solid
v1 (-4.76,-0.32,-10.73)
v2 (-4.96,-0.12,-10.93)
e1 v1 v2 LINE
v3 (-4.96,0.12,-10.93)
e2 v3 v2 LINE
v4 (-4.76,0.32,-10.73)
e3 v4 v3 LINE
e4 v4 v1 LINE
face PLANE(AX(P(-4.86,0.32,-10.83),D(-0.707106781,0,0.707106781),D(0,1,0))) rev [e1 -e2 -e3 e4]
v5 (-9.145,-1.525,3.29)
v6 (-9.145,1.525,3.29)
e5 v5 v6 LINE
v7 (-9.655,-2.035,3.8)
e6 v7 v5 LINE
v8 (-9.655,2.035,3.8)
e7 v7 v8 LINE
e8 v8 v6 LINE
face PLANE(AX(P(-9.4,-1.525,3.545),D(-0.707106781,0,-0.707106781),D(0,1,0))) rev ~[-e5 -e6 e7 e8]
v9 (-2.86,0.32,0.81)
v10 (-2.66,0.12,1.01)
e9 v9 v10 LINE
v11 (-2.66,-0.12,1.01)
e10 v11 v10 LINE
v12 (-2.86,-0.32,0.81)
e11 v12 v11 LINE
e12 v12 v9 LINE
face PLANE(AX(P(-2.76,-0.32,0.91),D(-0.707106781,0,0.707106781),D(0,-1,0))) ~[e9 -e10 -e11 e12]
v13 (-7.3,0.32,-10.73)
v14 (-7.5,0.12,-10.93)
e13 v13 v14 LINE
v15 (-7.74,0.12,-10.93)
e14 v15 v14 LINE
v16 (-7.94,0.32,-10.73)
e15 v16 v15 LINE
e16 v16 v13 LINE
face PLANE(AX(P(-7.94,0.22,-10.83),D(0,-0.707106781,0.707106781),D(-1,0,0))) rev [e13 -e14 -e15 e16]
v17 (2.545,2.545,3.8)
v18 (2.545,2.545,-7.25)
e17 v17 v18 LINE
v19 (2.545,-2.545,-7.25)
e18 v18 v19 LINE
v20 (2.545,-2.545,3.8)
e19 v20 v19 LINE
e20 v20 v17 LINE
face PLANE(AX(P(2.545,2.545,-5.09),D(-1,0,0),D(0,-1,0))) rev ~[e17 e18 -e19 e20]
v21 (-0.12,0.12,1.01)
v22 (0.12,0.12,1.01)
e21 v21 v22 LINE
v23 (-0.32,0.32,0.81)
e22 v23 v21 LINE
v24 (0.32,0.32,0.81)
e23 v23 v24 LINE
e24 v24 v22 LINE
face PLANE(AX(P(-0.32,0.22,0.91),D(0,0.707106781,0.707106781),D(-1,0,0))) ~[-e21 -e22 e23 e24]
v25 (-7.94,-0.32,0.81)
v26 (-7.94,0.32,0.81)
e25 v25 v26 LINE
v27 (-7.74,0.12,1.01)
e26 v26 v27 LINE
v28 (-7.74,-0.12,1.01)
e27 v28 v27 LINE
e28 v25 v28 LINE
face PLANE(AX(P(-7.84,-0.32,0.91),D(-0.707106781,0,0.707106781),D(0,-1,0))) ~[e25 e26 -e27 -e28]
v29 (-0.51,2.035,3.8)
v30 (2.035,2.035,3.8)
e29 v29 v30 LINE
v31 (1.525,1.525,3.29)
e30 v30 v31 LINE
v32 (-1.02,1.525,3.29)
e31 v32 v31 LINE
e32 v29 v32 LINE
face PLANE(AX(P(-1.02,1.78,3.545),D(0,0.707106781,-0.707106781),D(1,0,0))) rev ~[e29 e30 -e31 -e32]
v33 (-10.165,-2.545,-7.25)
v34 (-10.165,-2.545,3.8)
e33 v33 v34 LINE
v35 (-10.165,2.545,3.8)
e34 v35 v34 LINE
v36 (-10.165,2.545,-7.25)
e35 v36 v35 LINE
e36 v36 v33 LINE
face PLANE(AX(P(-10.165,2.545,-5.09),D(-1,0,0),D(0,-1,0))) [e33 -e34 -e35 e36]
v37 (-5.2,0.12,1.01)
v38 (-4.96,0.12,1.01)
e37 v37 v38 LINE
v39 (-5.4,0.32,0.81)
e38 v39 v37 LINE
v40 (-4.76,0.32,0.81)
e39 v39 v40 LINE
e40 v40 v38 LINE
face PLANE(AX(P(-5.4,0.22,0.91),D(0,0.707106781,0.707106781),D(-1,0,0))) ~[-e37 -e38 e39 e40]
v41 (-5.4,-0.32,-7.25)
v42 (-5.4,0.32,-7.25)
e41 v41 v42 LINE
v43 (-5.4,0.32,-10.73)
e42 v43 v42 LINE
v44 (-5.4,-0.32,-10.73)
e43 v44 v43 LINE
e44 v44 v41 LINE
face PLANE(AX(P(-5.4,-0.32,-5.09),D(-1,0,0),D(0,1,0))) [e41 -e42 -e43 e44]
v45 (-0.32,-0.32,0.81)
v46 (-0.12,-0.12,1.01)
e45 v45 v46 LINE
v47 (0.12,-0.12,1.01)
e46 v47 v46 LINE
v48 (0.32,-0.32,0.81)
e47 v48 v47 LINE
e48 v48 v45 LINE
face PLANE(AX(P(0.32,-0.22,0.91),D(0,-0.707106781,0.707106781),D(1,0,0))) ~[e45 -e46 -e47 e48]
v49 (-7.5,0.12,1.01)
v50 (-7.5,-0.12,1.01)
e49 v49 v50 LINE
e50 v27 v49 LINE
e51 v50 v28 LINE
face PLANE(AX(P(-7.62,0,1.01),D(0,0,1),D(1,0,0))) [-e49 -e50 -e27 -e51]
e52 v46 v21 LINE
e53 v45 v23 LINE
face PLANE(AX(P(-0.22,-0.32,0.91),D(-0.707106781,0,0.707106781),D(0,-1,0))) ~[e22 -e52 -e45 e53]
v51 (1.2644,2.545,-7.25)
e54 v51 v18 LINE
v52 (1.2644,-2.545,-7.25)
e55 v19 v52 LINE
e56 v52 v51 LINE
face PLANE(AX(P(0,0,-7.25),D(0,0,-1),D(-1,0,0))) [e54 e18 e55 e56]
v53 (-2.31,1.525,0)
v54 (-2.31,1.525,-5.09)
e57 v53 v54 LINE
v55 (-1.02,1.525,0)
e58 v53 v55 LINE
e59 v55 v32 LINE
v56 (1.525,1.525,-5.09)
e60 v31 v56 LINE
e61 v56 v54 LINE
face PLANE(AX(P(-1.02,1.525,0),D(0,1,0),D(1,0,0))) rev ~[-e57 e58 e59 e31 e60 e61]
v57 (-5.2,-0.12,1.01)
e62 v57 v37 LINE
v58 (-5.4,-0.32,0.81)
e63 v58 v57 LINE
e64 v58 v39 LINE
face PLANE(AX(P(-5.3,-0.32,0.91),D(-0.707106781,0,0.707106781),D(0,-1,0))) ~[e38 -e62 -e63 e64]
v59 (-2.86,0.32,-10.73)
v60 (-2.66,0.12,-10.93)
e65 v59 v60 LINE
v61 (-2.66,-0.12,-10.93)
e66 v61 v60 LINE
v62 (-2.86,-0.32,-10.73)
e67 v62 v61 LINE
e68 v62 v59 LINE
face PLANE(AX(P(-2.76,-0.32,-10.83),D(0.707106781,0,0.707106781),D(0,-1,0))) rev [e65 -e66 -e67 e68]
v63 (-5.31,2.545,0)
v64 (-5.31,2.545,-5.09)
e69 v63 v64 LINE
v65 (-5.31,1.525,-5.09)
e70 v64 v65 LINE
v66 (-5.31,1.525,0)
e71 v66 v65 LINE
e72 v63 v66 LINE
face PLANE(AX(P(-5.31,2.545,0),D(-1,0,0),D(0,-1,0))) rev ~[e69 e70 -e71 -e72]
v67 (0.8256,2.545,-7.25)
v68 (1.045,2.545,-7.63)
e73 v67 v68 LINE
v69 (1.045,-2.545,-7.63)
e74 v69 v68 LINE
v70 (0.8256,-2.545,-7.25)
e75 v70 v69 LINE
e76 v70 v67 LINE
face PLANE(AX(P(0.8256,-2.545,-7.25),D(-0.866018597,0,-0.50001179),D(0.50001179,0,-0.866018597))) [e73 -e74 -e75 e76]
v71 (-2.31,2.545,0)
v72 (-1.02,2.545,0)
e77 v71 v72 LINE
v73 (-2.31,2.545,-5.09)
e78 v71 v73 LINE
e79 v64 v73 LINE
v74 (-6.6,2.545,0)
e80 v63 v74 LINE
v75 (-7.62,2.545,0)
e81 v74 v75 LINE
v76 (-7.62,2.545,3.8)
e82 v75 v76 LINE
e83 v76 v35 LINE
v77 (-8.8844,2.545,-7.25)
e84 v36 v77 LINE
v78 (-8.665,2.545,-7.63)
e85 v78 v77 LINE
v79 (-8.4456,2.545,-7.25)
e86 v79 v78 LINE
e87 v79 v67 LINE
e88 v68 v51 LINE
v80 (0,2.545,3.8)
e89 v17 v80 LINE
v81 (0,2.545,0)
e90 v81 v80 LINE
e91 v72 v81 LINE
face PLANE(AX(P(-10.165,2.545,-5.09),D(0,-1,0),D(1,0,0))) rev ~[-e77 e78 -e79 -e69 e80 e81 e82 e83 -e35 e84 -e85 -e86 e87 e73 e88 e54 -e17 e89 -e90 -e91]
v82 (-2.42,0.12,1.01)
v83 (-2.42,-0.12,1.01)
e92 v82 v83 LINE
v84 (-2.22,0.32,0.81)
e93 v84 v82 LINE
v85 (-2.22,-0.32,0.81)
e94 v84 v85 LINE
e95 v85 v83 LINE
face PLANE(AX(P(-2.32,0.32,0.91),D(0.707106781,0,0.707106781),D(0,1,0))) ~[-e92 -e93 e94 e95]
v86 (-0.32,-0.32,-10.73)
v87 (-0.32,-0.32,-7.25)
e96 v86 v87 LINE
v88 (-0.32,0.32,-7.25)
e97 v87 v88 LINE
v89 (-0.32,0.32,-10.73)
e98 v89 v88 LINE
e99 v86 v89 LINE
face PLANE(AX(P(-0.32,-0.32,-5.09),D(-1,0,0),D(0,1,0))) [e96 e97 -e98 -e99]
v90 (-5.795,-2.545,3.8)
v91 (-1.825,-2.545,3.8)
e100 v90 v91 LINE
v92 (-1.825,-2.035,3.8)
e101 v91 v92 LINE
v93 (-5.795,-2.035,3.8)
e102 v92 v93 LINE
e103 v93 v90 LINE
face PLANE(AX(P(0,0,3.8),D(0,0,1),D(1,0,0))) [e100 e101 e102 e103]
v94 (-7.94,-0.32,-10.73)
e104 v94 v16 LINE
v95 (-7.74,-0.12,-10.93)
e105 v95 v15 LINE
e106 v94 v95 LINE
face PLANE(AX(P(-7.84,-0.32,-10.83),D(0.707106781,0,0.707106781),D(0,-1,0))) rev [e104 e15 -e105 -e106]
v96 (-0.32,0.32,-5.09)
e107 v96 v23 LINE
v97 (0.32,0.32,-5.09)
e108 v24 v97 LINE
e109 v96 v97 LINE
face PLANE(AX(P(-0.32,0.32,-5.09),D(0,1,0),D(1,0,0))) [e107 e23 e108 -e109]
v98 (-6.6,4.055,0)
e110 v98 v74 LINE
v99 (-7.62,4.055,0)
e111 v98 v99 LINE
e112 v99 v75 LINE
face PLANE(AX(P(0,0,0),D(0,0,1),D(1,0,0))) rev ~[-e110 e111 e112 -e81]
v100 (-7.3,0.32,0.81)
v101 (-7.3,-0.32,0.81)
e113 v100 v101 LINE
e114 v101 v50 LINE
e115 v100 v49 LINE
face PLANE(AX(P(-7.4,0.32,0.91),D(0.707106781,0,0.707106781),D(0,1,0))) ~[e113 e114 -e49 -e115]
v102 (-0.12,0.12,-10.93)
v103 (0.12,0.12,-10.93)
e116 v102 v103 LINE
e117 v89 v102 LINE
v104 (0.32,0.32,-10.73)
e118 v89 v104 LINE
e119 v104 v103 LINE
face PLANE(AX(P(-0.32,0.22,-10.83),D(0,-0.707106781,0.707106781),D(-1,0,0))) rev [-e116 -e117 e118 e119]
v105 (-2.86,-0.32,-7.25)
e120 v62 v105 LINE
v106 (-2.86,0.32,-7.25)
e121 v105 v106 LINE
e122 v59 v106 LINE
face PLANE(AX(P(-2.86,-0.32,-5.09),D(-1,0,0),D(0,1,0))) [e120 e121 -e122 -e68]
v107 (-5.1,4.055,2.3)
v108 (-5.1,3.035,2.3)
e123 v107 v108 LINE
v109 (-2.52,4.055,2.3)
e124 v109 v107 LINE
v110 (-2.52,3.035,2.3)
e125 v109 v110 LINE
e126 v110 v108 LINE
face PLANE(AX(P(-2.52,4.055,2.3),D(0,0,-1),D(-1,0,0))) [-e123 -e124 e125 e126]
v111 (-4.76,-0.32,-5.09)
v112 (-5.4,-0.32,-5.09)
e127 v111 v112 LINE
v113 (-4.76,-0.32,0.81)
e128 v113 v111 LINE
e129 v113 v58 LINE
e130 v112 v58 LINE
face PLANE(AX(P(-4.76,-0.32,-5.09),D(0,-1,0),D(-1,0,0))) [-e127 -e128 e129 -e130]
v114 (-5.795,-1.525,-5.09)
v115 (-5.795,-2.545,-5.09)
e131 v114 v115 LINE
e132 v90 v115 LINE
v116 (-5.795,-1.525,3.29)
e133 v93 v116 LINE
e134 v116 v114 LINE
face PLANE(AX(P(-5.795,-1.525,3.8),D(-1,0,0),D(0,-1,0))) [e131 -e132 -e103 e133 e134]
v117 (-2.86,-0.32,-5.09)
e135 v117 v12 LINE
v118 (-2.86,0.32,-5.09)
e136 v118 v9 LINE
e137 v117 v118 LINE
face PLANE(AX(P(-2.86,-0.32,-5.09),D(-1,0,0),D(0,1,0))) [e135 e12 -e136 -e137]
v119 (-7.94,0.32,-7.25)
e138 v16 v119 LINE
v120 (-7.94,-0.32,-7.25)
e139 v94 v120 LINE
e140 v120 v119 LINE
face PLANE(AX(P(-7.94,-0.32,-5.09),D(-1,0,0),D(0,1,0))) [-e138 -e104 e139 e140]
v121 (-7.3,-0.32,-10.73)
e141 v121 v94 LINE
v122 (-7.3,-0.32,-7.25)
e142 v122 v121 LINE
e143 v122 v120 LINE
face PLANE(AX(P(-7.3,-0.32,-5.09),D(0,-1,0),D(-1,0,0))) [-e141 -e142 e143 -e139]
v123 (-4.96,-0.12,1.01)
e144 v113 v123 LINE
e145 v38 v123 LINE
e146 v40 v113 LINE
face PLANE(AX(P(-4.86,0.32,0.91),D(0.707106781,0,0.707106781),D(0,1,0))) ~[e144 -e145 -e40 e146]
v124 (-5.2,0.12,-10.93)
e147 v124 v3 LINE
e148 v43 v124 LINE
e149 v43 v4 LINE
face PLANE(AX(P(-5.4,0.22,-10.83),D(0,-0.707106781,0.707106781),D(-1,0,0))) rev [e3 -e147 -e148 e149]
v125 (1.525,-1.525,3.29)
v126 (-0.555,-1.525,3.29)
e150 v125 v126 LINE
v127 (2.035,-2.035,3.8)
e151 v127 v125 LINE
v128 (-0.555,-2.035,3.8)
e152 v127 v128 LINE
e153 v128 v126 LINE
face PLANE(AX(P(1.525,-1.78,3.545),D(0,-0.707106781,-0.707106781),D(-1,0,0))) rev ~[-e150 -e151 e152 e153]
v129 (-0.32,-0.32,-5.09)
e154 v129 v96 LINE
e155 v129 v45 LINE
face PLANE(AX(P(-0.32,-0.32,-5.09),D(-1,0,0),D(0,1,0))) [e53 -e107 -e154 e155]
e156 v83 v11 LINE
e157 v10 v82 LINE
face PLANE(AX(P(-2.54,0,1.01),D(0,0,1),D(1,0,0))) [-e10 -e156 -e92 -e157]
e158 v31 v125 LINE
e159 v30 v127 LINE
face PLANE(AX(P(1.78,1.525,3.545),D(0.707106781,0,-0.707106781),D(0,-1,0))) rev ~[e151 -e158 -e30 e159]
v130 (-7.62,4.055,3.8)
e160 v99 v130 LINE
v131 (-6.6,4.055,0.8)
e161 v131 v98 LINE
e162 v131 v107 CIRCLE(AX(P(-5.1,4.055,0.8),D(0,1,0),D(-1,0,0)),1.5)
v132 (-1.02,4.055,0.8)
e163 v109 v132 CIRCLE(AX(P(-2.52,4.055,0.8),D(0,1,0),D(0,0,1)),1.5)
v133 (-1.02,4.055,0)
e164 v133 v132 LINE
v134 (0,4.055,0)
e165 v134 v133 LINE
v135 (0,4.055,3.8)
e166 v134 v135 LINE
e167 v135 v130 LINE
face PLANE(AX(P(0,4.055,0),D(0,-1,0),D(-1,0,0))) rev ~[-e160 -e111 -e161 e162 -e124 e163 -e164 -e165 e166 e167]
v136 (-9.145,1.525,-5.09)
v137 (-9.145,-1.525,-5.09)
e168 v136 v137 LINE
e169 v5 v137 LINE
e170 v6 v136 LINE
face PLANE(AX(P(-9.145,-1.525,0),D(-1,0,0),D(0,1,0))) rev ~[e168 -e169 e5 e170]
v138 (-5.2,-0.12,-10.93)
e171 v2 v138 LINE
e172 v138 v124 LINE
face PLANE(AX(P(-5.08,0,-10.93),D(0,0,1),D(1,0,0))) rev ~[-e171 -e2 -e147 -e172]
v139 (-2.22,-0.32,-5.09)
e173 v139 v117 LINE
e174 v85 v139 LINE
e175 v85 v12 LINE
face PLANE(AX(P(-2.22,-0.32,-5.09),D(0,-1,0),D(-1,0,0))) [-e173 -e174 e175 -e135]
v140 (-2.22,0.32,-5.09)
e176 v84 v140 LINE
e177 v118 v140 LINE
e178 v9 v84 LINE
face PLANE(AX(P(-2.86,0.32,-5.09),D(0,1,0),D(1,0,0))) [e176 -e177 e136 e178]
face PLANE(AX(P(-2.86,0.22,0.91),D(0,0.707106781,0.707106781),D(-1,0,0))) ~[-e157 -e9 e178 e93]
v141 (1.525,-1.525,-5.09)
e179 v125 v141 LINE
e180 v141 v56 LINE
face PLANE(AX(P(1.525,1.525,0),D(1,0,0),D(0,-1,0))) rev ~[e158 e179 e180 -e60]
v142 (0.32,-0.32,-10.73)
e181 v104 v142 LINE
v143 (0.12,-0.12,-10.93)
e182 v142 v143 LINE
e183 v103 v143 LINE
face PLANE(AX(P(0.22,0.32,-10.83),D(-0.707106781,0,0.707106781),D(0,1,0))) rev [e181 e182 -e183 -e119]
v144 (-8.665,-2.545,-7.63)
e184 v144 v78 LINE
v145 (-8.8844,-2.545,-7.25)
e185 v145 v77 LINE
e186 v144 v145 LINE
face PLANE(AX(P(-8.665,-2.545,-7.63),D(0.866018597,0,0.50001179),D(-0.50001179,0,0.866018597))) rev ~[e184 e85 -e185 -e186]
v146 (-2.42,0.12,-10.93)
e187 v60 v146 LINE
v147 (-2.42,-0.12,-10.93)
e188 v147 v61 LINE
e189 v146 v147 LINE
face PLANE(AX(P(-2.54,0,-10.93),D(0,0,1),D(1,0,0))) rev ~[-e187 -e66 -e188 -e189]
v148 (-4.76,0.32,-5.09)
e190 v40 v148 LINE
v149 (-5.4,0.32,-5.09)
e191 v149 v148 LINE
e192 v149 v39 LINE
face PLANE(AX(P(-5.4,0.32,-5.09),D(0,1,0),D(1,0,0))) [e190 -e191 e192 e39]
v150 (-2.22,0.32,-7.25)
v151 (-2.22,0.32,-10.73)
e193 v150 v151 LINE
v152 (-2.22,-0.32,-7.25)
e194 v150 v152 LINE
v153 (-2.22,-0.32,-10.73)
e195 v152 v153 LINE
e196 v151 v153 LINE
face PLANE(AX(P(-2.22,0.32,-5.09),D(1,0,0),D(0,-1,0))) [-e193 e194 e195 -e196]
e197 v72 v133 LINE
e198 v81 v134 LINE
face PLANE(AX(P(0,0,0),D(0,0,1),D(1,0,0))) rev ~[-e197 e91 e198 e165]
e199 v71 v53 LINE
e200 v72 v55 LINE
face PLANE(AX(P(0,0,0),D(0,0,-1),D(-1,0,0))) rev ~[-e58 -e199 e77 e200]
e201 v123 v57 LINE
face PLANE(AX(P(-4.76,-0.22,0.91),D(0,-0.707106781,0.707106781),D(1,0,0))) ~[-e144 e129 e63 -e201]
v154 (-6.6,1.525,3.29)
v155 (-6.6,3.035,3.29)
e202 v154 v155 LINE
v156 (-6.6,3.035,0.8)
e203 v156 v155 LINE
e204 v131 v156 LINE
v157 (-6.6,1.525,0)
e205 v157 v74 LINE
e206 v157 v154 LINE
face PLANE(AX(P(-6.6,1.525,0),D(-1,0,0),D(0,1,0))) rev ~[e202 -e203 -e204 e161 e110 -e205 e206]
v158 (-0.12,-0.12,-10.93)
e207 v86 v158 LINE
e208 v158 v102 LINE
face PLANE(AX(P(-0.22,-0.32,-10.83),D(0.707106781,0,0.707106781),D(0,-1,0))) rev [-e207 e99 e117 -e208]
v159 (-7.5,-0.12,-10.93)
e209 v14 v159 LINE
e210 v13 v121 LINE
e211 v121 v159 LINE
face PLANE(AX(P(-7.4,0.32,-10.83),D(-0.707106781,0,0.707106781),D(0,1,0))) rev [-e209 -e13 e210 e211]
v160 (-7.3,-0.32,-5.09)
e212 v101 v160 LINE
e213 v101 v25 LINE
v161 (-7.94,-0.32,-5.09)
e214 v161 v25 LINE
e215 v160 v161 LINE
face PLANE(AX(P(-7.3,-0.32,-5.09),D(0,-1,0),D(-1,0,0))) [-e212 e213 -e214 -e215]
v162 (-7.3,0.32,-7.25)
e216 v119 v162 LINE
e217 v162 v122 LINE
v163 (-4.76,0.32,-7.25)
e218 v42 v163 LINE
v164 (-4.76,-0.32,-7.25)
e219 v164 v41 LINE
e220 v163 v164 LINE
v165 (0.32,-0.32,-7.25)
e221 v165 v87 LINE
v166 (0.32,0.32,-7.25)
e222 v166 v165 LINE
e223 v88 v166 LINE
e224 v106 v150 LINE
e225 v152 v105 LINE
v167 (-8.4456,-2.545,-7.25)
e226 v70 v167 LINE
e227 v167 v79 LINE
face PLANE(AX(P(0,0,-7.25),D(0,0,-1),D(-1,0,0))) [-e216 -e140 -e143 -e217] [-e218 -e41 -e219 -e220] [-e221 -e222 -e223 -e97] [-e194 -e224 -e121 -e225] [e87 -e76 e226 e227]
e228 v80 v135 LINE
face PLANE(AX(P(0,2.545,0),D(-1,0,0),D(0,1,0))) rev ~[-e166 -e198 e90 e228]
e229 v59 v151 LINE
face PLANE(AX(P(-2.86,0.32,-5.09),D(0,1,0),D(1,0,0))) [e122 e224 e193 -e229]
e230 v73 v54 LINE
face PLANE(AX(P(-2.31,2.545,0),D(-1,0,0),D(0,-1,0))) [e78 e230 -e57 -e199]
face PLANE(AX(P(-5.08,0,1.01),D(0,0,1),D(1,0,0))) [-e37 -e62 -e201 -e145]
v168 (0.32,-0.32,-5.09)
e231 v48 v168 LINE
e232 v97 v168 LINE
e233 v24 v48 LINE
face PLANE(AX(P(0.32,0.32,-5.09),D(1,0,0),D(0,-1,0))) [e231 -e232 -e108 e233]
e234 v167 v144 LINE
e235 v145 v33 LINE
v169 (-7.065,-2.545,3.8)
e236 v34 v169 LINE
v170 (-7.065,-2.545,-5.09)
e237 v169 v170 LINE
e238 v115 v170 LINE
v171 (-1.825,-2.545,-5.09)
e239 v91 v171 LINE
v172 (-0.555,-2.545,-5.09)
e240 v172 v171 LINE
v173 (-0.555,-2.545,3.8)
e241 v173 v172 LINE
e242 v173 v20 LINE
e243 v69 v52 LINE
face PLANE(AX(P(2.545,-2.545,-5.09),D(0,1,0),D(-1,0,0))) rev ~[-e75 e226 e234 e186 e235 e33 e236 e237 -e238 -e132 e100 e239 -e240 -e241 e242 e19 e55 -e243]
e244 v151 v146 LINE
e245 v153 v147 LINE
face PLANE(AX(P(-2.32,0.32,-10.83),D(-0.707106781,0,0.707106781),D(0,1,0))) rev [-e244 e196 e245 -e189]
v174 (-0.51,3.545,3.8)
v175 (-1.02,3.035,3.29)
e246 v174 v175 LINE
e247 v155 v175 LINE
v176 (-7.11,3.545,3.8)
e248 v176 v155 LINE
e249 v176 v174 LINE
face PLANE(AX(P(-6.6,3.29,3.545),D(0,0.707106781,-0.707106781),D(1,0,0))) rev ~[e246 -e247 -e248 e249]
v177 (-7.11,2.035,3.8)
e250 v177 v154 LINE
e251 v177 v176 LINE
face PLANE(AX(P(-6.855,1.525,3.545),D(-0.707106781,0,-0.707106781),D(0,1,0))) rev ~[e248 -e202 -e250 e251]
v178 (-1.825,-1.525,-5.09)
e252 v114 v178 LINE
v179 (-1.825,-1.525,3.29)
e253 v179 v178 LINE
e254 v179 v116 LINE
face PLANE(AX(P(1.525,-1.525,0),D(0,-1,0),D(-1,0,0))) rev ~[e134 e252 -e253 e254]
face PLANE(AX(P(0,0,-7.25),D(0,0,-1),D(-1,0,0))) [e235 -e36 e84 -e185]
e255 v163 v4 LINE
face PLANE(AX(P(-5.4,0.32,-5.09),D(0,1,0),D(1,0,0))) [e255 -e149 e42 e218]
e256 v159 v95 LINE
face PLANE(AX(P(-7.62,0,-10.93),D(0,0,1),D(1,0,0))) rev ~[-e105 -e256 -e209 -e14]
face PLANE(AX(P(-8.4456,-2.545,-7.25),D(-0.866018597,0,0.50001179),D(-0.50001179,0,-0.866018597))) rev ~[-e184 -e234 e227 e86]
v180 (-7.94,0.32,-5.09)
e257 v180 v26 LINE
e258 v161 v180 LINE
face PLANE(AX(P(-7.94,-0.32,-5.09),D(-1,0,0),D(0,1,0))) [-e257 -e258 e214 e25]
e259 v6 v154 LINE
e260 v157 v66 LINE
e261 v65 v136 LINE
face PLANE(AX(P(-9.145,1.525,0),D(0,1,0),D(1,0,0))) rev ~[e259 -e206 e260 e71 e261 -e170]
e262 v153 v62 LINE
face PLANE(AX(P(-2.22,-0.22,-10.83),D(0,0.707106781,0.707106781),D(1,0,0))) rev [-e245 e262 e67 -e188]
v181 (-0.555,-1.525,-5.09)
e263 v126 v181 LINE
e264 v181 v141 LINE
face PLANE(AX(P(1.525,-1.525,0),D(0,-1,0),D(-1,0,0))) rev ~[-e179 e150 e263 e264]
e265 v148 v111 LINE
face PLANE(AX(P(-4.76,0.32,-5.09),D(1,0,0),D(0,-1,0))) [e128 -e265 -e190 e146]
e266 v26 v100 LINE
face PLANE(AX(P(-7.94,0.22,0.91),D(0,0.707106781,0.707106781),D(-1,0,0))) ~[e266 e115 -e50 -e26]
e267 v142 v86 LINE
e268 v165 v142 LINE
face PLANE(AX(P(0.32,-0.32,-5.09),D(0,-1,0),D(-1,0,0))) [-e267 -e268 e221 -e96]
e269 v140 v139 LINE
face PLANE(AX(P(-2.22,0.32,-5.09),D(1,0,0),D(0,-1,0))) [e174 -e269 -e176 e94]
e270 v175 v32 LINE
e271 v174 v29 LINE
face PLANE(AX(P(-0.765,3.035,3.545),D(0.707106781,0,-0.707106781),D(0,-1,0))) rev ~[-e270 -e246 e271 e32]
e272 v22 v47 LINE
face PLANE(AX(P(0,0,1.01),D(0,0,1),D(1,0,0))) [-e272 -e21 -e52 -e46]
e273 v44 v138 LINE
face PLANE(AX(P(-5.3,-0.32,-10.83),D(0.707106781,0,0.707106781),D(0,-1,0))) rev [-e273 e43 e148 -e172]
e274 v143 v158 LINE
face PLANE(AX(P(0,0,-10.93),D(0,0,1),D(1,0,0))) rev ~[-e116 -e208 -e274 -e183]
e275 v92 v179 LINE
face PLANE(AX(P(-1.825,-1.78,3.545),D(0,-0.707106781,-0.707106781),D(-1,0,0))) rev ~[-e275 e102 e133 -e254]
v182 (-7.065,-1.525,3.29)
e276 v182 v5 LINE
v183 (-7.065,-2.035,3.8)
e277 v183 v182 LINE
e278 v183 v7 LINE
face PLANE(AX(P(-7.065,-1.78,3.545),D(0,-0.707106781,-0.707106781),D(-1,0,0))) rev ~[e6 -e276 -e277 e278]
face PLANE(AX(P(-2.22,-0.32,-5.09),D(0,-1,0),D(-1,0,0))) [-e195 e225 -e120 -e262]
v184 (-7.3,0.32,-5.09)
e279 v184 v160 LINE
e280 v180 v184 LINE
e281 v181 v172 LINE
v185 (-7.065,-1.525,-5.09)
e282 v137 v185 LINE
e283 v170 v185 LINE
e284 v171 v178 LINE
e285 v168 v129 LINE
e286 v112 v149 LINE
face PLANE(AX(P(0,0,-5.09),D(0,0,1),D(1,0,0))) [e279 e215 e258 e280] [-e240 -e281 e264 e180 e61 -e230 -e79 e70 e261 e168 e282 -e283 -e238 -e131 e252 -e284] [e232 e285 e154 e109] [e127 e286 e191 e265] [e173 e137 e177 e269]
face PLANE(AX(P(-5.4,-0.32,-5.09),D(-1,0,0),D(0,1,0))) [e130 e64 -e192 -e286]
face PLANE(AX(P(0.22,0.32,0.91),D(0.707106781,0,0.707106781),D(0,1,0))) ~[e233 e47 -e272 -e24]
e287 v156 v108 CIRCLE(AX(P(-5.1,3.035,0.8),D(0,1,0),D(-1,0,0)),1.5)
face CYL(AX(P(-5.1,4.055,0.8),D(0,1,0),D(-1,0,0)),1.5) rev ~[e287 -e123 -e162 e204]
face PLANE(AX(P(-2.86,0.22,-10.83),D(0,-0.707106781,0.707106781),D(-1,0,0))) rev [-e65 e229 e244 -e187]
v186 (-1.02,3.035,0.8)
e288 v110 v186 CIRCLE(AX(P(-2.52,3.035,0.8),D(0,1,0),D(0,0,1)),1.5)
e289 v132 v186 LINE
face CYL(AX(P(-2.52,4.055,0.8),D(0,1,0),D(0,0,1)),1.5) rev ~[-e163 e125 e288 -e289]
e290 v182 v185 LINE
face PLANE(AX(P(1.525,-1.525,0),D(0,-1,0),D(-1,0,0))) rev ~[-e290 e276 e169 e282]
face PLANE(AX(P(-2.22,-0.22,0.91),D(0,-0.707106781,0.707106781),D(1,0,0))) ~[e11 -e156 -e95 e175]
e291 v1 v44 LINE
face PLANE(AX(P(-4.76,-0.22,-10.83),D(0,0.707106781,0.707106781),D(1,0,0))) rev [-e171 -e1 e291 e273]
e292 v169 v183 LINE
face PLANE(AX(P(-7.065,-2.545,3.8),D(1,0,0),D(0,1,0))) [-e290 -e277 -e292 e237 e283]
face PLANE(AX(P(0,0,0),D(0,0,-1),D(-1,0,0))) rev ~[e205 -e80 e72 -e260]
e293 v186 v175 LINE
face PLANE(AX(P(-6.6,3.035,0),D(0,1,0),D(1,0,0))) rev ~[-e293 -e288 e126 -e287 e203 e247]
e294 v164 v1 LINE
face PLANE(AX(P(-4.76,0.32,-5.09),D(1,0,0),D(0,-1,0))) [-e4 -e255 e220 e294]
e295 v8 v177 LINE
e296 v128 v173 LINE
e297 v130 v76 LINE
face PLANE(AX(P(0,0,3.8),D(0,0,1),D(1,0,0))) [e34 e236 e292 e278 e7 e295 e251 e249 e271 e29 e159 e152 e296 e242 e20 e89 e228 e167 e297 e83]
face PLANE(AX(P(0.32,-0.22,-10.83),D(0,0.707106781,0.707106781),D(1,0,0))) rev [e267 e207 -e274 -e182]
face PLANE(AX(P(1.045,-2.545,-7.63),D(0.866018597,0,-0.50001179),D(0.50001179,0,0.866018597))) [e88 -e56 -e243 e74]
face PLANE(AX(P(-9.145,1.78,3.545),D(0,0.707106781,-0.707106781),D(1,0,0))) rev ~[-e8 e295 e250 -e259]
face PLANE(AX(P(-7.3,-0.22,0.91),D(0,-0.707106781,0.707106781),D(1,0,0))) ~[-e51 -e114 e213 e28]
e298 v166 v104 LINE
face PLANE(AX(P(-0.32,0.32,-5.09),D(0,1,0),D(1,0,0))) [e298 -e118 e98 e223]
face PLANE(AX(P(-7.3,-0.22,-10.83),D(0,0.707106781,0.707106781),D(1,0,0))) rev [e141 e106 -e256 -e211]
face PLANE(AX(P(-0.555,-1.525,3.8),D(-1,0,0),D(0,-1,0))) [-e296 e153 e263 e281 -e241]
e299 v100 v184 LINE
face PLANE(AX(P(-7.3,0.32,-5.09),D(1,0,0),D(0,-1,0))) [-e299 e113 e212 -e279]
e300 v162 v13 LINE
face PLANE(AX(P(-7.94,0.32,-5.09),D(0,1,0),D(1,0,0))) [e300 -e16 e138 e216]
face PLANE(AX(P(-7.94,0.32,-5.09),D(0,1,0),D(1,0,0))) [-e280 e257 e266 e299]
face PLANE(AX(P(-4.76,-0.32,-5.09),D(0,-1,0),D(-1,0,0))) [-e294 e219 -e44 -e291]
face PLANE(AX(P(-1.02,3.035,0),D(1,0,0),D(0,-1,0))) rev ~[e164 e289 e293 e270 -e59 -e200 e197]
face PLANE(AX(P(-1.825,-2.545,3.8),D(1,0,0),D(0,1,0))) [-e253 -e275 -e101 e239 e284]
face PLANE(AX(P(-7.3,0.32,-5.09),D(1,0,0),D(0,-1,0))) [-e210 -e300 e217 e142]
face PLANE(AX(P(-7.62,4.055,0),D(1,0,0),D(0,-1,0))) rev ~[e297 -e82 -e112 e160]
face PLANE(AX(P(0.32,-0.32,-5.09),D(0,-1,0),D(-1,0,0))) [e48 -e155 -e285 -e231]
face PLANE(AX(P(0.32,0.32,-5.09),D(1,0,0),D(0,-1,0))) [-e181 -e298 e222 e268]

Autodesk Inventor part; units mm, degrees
ref_plane "YZ Plane" through (0, 0, 0) normal (1, 0, 0) x (0, 1, 0)
ref_plane "XZ Plane" through (0, 0, 0) normal (0, 1, 0) x (-1, 0, 0)
ref_plane "XY Plane" through (0, 0, 0) normal (0, 0, 1) x (1, 0, 0)
sketch "Skizze1" plane through (0, 0, 0) normal (0, 0, 1) x (1, 0, 0)
  line L0 (-10.165, -2.545) -> (2.545, -2.545)
  line L1 (2.545, -2.545) -> (2.545, 2.545)
  line L2 (2.545, 2.545) -> (0, 2.545)
  line L3 (0, 2.545) -> (0, 4.055)
  line L4 (0, 4.055) -> (-7.62, 4.055)
  line L5 (-7.62, 4.055) -> (-7.62, 2.545)
  line L6 (-7.62, 2.545) -> (-10.165, 2.545)
  line L7 (-10.165, 2.545) -> (-10.165, -2.545)
  line L8 (-6.6, 3.035) -> (-1.02, 3.035)
  line L9 (-1.02, 3.035) -> (-1.02, 1.525)
  line L10 (-1.02, 1.525) -> (1.525, 1.525)
  line L11 (1.525, 1.525) -> (1.525, -1.525)
  line L12 (1.525, -1.525) -> (-9.145, -1.525)
  line L13 (-9.145, -1.525) -> (-9.145, 1.525)
  line L14 (-9.145, 1.525) -> (-6.6, 1.525)
  line L15 (-6.6, 1.525) -> (-6.6, 3.035)
  line L16 (-9.145, 0) -> (-7.62, 0) construction
  line L17 (-7.62, 0) -> (0, 0) construction
  line L18 (0, 0) -> (1.525, 0) construction
  point P0 (0, -2.035)
  dimension "d0" = 1.02
  dimension "d1" = 3.05
  dimension "d3" = 7.62
  dimension "d4" = 6.6
  dimension "d5" = 1.525
  dimension "d6" = 7.62
extrude "Extrusion1" add sketch "Skizze1" along normal blind 3.8
sketch "Skizze2" plane through (0, 0, 0) normal (0, 0, -1) x (-1, 0, 0)
  line L0 (-2.545, -2.545) -> (-2.545, 2.545) projected
  line L1 (-2.545, 2.545) -> (0, 2.545) projected
  line L2 (-1.525, 1.525) -> (1.02, 1.525) projected
  line L3 (-1.525, -1.525) -> (-1.525, 1.525) projected
  line L4 (9.145, -1.525) -> (-1.525, -1.525) projected
  line L5 (10.165, -2.545) -> (-2.545, -2.545) projected
  line L6 (10.165, 2.545) -> (10.165, -2.545) projected
  line L7 (9.145, 1.525) -> (9.145, -1.525) projected
  line L8 (6.6, 1.525) -> (9.145, 1.525) projected
  line L9 (7.62, 2.545) -> (10.165, 2.545) projected
  line L10 (1.02, 1.525) -> (2.31, 1.525)
  line L11 (0, 2.545) -> (0, 4.055) projected
  line L12 (0, 2.545) -> (2.31, 2.545)
  line L13 (2.31, 2.545) -> (2.31, 1.525)
  line L14 (6.6, 1.525) -> (6.6, 3.035) projected
  line L15 (6.6, 1.525) -> (5.31, 1.525)
  line L16 (7.62, 2.545) -> (5.31, 2.545)
  line L17 (5.31, 2.545) -> (5.31, 1.525)
  point P0 (0, 0)
  dimension "d9" = 3
extrude "Extrusion2" add sketch "Skizze2" along normal blind 5.09
sketch "Skizze3" plane through (0, 0, -5.09) normal (0, 0, -1) x (-1, 0, 0)
  line L0 (-2.545, 2.545) -> (-2.545, -2.545) projected
  line L1 (10.165, 2.545) -> (10.165, -2.545) projected
  line L2 (-2.545, -2.545) -> (10.165, -2.545)
  line L3 (10.165, -2.545) -> (10.165, 2.545)
  line L4 (10.165, 2.545) -> (-2.545, 2.545)
  line L5 (-2.545, 2.545) -> (-2.545, -2.545)
  point P0 (0, 0)
extrude "Extrusion3" add sketch "Skizze3" along normal blind 2.16
sketch "Skizze4" plane through (-7.62, 4.055, 0) normal (0, 1, 0) x (1, 0, 0)
  line L0 (7.62, -3.8) -> (0, -3.8) construction
  line L1 (1.02, 0) -> (2.31, 0) projected
  line L2 (5.1, -2.3) -> (2.52, -2.3)
  line L3 (1.02, -0.8) -> (1.02, 0)
  line L4 (1.02, 0) -> (6.6, 0)
  line L5 (6.6, 0) -> (6.6, -0.8)
  arc A0 (5.1, -2.3) -> (6.6, -0.8) centre (5.1, -0.8) ccw
  arc A1 (1.02, -0.8) -> (2.52, -2.3) centre (2.52, -0.8) ccw
  line L6 (0, 0) -> (0, -3.8) construction
  line L7 (6.6, 0) -> (6.6, -3.8) construction
  line L8 (6.6, 0) -> (6.6, -3.8) construction
  line L9 (1.02, 0) -> (1.02, -3.8) construction
  line L10 (1.02, 0) -> (1.02, -3.8) construction
  point P0 (7.62, 0)
  dimension "d14" = 1.5
  dimension "d15" = 1.5
extrude "Extrusion4" cut sketch "Skizze4" against normal up to surface (1.02 mm away)
sketch "Skizze5" plane through (-10.165, -2.545, 3.8) normal (0, -1, 0) x (1, 0, 0)
  line L0 (0, -11.05) -> (1.2806, -11.05) construction
  line L1 (12.71, -11.05) -> (11.4294, -11.05) construction
  line L2 (1.2806, -11.05) -> (1.7194, -11.05)
  line L3 (1.7194, -11.05) -> (10.9906, -11.05) construction
  line L4 (10.9906, -11.05) -> (11.4294, -11.05)
  line L5 (10.9906, -11.05) -> (11.21, -11.43)
  line L6 (11.21, -11.43) -> (11.4294, -11.05)
  line L7 (1.7194, -11.05) -> (1.5, -11.43)
  line L8 (1.5, -11.43) -> (1.2806, -11.05)
  line L9 (12.71, -11.05) -> (12.71, 0) projected
  point P0 (10.165, -3.8)
  point P1 (0, -11.05)
  dimension "d18" = 0.38
  dimension "d19" = 1.5
extrude "Extrusion5" add sketch "Skizze5" against normal up to surface (5.09 mm away)
sketch "Skizze6" plane through (0, 0, -5.09) normal (0, 0, 1) x (1, 0, 0)
  line L0 (-0.32, 0.32) -> (0.32, 0.32)
  line L1 (0.32, 0.32) -> (0.32, -0.32)
  line L2 (0.32, -0.32) -> (-0.32, -0.32)
  line L3 (-0.32, -0.32) -> (-0.32, 0.32)
  line L4 (0.32, -0.32) -> (-0.32, 0.32) construction
  point P0 (0, 0)
  point P1 (0, 0)
  dimension "d22" = 0.64
extrude "Extrusion6" add sketch "Skizze6" along normal blind 6.1 and the other way blind 5.84
chamfer "Fase1" distance 0.2 angle 45 8 edges at (0, 0.32, 1.01) (0.32, 0, 1.01) (0, -0.32, 1.01) (-0.32, 0, 1.01) (0.32, 0, -10.93) (-0.32, 0, -10.93) (0, -0.32, -10.93) (0, 0.32, -10.93)
pattern_linear "Rechteckige Anordnung1" count 4 spacing 2.54 along (-1, 0, 0) of "Extrusion6", "Fase1"
sketch "Skizze8" plane through (0, 0, 3.8) normal (0, 0, 1) x (1, 0, 0)
  line L0 (1.525, -1.525) -> (-9.145, -1.525) construction
  line L1 (-10.165, -2.545) -> (2.545, -2.545) construction
  line L2 (-1.825, -2.035) -> (-5.795, -2.035) construction
  line L3 (-3.81, -2.545) -> (-3.81, -2.035) construction
  line L4 (-7.065, -1.525) -> (-5.795, -1.525)
  line L5 (-5.795, -1.525) -> (-5.795, -2.545)
  line L6 (-5.795, -2.545) -> (-7.065, -2.545)
  line L7 (-7.065, -2.545) -> (-7.065, -1.525)
  line L8 (-1.825, -1.525) -> (-0.555, -1.525)
  line L9 (-0.555, -1.525) -> (-0.555, -2.545)
  line L10 (-0.555, -2.545) -> (-1.825, -2.545)
  line L11 (-1.825, -2.545) -> (-1.825, -1.525)
  line L12 (-10.165, 2.545) -> (-10.165, -2.545) projected
  point P0 (0, 0)
  dimension "d33" = 1.27
  dimension "d34" = 3.1
extrude "Extrusion7" cut sketch "Skizze8" against normal up to surface (8.89 mm away)
chamfer "Fase2" distance 0.51 angle 45 10 edges at (-9.145, 0, 3.8) (-8.105, -1.525, 3.8) (-7.8725, 1.525, 3.8) (-6.6, 2.28, 3.8) (-3.81, 3.035, 3.8) (-1.02, 2.28, 3.8) (0.2525, 1.525, 3.8) (1.525, 0, 3.8) (0.485, -1.525, 3.8) (-3.81, -1.525, 3.8)
properties part number "Molex_4"
